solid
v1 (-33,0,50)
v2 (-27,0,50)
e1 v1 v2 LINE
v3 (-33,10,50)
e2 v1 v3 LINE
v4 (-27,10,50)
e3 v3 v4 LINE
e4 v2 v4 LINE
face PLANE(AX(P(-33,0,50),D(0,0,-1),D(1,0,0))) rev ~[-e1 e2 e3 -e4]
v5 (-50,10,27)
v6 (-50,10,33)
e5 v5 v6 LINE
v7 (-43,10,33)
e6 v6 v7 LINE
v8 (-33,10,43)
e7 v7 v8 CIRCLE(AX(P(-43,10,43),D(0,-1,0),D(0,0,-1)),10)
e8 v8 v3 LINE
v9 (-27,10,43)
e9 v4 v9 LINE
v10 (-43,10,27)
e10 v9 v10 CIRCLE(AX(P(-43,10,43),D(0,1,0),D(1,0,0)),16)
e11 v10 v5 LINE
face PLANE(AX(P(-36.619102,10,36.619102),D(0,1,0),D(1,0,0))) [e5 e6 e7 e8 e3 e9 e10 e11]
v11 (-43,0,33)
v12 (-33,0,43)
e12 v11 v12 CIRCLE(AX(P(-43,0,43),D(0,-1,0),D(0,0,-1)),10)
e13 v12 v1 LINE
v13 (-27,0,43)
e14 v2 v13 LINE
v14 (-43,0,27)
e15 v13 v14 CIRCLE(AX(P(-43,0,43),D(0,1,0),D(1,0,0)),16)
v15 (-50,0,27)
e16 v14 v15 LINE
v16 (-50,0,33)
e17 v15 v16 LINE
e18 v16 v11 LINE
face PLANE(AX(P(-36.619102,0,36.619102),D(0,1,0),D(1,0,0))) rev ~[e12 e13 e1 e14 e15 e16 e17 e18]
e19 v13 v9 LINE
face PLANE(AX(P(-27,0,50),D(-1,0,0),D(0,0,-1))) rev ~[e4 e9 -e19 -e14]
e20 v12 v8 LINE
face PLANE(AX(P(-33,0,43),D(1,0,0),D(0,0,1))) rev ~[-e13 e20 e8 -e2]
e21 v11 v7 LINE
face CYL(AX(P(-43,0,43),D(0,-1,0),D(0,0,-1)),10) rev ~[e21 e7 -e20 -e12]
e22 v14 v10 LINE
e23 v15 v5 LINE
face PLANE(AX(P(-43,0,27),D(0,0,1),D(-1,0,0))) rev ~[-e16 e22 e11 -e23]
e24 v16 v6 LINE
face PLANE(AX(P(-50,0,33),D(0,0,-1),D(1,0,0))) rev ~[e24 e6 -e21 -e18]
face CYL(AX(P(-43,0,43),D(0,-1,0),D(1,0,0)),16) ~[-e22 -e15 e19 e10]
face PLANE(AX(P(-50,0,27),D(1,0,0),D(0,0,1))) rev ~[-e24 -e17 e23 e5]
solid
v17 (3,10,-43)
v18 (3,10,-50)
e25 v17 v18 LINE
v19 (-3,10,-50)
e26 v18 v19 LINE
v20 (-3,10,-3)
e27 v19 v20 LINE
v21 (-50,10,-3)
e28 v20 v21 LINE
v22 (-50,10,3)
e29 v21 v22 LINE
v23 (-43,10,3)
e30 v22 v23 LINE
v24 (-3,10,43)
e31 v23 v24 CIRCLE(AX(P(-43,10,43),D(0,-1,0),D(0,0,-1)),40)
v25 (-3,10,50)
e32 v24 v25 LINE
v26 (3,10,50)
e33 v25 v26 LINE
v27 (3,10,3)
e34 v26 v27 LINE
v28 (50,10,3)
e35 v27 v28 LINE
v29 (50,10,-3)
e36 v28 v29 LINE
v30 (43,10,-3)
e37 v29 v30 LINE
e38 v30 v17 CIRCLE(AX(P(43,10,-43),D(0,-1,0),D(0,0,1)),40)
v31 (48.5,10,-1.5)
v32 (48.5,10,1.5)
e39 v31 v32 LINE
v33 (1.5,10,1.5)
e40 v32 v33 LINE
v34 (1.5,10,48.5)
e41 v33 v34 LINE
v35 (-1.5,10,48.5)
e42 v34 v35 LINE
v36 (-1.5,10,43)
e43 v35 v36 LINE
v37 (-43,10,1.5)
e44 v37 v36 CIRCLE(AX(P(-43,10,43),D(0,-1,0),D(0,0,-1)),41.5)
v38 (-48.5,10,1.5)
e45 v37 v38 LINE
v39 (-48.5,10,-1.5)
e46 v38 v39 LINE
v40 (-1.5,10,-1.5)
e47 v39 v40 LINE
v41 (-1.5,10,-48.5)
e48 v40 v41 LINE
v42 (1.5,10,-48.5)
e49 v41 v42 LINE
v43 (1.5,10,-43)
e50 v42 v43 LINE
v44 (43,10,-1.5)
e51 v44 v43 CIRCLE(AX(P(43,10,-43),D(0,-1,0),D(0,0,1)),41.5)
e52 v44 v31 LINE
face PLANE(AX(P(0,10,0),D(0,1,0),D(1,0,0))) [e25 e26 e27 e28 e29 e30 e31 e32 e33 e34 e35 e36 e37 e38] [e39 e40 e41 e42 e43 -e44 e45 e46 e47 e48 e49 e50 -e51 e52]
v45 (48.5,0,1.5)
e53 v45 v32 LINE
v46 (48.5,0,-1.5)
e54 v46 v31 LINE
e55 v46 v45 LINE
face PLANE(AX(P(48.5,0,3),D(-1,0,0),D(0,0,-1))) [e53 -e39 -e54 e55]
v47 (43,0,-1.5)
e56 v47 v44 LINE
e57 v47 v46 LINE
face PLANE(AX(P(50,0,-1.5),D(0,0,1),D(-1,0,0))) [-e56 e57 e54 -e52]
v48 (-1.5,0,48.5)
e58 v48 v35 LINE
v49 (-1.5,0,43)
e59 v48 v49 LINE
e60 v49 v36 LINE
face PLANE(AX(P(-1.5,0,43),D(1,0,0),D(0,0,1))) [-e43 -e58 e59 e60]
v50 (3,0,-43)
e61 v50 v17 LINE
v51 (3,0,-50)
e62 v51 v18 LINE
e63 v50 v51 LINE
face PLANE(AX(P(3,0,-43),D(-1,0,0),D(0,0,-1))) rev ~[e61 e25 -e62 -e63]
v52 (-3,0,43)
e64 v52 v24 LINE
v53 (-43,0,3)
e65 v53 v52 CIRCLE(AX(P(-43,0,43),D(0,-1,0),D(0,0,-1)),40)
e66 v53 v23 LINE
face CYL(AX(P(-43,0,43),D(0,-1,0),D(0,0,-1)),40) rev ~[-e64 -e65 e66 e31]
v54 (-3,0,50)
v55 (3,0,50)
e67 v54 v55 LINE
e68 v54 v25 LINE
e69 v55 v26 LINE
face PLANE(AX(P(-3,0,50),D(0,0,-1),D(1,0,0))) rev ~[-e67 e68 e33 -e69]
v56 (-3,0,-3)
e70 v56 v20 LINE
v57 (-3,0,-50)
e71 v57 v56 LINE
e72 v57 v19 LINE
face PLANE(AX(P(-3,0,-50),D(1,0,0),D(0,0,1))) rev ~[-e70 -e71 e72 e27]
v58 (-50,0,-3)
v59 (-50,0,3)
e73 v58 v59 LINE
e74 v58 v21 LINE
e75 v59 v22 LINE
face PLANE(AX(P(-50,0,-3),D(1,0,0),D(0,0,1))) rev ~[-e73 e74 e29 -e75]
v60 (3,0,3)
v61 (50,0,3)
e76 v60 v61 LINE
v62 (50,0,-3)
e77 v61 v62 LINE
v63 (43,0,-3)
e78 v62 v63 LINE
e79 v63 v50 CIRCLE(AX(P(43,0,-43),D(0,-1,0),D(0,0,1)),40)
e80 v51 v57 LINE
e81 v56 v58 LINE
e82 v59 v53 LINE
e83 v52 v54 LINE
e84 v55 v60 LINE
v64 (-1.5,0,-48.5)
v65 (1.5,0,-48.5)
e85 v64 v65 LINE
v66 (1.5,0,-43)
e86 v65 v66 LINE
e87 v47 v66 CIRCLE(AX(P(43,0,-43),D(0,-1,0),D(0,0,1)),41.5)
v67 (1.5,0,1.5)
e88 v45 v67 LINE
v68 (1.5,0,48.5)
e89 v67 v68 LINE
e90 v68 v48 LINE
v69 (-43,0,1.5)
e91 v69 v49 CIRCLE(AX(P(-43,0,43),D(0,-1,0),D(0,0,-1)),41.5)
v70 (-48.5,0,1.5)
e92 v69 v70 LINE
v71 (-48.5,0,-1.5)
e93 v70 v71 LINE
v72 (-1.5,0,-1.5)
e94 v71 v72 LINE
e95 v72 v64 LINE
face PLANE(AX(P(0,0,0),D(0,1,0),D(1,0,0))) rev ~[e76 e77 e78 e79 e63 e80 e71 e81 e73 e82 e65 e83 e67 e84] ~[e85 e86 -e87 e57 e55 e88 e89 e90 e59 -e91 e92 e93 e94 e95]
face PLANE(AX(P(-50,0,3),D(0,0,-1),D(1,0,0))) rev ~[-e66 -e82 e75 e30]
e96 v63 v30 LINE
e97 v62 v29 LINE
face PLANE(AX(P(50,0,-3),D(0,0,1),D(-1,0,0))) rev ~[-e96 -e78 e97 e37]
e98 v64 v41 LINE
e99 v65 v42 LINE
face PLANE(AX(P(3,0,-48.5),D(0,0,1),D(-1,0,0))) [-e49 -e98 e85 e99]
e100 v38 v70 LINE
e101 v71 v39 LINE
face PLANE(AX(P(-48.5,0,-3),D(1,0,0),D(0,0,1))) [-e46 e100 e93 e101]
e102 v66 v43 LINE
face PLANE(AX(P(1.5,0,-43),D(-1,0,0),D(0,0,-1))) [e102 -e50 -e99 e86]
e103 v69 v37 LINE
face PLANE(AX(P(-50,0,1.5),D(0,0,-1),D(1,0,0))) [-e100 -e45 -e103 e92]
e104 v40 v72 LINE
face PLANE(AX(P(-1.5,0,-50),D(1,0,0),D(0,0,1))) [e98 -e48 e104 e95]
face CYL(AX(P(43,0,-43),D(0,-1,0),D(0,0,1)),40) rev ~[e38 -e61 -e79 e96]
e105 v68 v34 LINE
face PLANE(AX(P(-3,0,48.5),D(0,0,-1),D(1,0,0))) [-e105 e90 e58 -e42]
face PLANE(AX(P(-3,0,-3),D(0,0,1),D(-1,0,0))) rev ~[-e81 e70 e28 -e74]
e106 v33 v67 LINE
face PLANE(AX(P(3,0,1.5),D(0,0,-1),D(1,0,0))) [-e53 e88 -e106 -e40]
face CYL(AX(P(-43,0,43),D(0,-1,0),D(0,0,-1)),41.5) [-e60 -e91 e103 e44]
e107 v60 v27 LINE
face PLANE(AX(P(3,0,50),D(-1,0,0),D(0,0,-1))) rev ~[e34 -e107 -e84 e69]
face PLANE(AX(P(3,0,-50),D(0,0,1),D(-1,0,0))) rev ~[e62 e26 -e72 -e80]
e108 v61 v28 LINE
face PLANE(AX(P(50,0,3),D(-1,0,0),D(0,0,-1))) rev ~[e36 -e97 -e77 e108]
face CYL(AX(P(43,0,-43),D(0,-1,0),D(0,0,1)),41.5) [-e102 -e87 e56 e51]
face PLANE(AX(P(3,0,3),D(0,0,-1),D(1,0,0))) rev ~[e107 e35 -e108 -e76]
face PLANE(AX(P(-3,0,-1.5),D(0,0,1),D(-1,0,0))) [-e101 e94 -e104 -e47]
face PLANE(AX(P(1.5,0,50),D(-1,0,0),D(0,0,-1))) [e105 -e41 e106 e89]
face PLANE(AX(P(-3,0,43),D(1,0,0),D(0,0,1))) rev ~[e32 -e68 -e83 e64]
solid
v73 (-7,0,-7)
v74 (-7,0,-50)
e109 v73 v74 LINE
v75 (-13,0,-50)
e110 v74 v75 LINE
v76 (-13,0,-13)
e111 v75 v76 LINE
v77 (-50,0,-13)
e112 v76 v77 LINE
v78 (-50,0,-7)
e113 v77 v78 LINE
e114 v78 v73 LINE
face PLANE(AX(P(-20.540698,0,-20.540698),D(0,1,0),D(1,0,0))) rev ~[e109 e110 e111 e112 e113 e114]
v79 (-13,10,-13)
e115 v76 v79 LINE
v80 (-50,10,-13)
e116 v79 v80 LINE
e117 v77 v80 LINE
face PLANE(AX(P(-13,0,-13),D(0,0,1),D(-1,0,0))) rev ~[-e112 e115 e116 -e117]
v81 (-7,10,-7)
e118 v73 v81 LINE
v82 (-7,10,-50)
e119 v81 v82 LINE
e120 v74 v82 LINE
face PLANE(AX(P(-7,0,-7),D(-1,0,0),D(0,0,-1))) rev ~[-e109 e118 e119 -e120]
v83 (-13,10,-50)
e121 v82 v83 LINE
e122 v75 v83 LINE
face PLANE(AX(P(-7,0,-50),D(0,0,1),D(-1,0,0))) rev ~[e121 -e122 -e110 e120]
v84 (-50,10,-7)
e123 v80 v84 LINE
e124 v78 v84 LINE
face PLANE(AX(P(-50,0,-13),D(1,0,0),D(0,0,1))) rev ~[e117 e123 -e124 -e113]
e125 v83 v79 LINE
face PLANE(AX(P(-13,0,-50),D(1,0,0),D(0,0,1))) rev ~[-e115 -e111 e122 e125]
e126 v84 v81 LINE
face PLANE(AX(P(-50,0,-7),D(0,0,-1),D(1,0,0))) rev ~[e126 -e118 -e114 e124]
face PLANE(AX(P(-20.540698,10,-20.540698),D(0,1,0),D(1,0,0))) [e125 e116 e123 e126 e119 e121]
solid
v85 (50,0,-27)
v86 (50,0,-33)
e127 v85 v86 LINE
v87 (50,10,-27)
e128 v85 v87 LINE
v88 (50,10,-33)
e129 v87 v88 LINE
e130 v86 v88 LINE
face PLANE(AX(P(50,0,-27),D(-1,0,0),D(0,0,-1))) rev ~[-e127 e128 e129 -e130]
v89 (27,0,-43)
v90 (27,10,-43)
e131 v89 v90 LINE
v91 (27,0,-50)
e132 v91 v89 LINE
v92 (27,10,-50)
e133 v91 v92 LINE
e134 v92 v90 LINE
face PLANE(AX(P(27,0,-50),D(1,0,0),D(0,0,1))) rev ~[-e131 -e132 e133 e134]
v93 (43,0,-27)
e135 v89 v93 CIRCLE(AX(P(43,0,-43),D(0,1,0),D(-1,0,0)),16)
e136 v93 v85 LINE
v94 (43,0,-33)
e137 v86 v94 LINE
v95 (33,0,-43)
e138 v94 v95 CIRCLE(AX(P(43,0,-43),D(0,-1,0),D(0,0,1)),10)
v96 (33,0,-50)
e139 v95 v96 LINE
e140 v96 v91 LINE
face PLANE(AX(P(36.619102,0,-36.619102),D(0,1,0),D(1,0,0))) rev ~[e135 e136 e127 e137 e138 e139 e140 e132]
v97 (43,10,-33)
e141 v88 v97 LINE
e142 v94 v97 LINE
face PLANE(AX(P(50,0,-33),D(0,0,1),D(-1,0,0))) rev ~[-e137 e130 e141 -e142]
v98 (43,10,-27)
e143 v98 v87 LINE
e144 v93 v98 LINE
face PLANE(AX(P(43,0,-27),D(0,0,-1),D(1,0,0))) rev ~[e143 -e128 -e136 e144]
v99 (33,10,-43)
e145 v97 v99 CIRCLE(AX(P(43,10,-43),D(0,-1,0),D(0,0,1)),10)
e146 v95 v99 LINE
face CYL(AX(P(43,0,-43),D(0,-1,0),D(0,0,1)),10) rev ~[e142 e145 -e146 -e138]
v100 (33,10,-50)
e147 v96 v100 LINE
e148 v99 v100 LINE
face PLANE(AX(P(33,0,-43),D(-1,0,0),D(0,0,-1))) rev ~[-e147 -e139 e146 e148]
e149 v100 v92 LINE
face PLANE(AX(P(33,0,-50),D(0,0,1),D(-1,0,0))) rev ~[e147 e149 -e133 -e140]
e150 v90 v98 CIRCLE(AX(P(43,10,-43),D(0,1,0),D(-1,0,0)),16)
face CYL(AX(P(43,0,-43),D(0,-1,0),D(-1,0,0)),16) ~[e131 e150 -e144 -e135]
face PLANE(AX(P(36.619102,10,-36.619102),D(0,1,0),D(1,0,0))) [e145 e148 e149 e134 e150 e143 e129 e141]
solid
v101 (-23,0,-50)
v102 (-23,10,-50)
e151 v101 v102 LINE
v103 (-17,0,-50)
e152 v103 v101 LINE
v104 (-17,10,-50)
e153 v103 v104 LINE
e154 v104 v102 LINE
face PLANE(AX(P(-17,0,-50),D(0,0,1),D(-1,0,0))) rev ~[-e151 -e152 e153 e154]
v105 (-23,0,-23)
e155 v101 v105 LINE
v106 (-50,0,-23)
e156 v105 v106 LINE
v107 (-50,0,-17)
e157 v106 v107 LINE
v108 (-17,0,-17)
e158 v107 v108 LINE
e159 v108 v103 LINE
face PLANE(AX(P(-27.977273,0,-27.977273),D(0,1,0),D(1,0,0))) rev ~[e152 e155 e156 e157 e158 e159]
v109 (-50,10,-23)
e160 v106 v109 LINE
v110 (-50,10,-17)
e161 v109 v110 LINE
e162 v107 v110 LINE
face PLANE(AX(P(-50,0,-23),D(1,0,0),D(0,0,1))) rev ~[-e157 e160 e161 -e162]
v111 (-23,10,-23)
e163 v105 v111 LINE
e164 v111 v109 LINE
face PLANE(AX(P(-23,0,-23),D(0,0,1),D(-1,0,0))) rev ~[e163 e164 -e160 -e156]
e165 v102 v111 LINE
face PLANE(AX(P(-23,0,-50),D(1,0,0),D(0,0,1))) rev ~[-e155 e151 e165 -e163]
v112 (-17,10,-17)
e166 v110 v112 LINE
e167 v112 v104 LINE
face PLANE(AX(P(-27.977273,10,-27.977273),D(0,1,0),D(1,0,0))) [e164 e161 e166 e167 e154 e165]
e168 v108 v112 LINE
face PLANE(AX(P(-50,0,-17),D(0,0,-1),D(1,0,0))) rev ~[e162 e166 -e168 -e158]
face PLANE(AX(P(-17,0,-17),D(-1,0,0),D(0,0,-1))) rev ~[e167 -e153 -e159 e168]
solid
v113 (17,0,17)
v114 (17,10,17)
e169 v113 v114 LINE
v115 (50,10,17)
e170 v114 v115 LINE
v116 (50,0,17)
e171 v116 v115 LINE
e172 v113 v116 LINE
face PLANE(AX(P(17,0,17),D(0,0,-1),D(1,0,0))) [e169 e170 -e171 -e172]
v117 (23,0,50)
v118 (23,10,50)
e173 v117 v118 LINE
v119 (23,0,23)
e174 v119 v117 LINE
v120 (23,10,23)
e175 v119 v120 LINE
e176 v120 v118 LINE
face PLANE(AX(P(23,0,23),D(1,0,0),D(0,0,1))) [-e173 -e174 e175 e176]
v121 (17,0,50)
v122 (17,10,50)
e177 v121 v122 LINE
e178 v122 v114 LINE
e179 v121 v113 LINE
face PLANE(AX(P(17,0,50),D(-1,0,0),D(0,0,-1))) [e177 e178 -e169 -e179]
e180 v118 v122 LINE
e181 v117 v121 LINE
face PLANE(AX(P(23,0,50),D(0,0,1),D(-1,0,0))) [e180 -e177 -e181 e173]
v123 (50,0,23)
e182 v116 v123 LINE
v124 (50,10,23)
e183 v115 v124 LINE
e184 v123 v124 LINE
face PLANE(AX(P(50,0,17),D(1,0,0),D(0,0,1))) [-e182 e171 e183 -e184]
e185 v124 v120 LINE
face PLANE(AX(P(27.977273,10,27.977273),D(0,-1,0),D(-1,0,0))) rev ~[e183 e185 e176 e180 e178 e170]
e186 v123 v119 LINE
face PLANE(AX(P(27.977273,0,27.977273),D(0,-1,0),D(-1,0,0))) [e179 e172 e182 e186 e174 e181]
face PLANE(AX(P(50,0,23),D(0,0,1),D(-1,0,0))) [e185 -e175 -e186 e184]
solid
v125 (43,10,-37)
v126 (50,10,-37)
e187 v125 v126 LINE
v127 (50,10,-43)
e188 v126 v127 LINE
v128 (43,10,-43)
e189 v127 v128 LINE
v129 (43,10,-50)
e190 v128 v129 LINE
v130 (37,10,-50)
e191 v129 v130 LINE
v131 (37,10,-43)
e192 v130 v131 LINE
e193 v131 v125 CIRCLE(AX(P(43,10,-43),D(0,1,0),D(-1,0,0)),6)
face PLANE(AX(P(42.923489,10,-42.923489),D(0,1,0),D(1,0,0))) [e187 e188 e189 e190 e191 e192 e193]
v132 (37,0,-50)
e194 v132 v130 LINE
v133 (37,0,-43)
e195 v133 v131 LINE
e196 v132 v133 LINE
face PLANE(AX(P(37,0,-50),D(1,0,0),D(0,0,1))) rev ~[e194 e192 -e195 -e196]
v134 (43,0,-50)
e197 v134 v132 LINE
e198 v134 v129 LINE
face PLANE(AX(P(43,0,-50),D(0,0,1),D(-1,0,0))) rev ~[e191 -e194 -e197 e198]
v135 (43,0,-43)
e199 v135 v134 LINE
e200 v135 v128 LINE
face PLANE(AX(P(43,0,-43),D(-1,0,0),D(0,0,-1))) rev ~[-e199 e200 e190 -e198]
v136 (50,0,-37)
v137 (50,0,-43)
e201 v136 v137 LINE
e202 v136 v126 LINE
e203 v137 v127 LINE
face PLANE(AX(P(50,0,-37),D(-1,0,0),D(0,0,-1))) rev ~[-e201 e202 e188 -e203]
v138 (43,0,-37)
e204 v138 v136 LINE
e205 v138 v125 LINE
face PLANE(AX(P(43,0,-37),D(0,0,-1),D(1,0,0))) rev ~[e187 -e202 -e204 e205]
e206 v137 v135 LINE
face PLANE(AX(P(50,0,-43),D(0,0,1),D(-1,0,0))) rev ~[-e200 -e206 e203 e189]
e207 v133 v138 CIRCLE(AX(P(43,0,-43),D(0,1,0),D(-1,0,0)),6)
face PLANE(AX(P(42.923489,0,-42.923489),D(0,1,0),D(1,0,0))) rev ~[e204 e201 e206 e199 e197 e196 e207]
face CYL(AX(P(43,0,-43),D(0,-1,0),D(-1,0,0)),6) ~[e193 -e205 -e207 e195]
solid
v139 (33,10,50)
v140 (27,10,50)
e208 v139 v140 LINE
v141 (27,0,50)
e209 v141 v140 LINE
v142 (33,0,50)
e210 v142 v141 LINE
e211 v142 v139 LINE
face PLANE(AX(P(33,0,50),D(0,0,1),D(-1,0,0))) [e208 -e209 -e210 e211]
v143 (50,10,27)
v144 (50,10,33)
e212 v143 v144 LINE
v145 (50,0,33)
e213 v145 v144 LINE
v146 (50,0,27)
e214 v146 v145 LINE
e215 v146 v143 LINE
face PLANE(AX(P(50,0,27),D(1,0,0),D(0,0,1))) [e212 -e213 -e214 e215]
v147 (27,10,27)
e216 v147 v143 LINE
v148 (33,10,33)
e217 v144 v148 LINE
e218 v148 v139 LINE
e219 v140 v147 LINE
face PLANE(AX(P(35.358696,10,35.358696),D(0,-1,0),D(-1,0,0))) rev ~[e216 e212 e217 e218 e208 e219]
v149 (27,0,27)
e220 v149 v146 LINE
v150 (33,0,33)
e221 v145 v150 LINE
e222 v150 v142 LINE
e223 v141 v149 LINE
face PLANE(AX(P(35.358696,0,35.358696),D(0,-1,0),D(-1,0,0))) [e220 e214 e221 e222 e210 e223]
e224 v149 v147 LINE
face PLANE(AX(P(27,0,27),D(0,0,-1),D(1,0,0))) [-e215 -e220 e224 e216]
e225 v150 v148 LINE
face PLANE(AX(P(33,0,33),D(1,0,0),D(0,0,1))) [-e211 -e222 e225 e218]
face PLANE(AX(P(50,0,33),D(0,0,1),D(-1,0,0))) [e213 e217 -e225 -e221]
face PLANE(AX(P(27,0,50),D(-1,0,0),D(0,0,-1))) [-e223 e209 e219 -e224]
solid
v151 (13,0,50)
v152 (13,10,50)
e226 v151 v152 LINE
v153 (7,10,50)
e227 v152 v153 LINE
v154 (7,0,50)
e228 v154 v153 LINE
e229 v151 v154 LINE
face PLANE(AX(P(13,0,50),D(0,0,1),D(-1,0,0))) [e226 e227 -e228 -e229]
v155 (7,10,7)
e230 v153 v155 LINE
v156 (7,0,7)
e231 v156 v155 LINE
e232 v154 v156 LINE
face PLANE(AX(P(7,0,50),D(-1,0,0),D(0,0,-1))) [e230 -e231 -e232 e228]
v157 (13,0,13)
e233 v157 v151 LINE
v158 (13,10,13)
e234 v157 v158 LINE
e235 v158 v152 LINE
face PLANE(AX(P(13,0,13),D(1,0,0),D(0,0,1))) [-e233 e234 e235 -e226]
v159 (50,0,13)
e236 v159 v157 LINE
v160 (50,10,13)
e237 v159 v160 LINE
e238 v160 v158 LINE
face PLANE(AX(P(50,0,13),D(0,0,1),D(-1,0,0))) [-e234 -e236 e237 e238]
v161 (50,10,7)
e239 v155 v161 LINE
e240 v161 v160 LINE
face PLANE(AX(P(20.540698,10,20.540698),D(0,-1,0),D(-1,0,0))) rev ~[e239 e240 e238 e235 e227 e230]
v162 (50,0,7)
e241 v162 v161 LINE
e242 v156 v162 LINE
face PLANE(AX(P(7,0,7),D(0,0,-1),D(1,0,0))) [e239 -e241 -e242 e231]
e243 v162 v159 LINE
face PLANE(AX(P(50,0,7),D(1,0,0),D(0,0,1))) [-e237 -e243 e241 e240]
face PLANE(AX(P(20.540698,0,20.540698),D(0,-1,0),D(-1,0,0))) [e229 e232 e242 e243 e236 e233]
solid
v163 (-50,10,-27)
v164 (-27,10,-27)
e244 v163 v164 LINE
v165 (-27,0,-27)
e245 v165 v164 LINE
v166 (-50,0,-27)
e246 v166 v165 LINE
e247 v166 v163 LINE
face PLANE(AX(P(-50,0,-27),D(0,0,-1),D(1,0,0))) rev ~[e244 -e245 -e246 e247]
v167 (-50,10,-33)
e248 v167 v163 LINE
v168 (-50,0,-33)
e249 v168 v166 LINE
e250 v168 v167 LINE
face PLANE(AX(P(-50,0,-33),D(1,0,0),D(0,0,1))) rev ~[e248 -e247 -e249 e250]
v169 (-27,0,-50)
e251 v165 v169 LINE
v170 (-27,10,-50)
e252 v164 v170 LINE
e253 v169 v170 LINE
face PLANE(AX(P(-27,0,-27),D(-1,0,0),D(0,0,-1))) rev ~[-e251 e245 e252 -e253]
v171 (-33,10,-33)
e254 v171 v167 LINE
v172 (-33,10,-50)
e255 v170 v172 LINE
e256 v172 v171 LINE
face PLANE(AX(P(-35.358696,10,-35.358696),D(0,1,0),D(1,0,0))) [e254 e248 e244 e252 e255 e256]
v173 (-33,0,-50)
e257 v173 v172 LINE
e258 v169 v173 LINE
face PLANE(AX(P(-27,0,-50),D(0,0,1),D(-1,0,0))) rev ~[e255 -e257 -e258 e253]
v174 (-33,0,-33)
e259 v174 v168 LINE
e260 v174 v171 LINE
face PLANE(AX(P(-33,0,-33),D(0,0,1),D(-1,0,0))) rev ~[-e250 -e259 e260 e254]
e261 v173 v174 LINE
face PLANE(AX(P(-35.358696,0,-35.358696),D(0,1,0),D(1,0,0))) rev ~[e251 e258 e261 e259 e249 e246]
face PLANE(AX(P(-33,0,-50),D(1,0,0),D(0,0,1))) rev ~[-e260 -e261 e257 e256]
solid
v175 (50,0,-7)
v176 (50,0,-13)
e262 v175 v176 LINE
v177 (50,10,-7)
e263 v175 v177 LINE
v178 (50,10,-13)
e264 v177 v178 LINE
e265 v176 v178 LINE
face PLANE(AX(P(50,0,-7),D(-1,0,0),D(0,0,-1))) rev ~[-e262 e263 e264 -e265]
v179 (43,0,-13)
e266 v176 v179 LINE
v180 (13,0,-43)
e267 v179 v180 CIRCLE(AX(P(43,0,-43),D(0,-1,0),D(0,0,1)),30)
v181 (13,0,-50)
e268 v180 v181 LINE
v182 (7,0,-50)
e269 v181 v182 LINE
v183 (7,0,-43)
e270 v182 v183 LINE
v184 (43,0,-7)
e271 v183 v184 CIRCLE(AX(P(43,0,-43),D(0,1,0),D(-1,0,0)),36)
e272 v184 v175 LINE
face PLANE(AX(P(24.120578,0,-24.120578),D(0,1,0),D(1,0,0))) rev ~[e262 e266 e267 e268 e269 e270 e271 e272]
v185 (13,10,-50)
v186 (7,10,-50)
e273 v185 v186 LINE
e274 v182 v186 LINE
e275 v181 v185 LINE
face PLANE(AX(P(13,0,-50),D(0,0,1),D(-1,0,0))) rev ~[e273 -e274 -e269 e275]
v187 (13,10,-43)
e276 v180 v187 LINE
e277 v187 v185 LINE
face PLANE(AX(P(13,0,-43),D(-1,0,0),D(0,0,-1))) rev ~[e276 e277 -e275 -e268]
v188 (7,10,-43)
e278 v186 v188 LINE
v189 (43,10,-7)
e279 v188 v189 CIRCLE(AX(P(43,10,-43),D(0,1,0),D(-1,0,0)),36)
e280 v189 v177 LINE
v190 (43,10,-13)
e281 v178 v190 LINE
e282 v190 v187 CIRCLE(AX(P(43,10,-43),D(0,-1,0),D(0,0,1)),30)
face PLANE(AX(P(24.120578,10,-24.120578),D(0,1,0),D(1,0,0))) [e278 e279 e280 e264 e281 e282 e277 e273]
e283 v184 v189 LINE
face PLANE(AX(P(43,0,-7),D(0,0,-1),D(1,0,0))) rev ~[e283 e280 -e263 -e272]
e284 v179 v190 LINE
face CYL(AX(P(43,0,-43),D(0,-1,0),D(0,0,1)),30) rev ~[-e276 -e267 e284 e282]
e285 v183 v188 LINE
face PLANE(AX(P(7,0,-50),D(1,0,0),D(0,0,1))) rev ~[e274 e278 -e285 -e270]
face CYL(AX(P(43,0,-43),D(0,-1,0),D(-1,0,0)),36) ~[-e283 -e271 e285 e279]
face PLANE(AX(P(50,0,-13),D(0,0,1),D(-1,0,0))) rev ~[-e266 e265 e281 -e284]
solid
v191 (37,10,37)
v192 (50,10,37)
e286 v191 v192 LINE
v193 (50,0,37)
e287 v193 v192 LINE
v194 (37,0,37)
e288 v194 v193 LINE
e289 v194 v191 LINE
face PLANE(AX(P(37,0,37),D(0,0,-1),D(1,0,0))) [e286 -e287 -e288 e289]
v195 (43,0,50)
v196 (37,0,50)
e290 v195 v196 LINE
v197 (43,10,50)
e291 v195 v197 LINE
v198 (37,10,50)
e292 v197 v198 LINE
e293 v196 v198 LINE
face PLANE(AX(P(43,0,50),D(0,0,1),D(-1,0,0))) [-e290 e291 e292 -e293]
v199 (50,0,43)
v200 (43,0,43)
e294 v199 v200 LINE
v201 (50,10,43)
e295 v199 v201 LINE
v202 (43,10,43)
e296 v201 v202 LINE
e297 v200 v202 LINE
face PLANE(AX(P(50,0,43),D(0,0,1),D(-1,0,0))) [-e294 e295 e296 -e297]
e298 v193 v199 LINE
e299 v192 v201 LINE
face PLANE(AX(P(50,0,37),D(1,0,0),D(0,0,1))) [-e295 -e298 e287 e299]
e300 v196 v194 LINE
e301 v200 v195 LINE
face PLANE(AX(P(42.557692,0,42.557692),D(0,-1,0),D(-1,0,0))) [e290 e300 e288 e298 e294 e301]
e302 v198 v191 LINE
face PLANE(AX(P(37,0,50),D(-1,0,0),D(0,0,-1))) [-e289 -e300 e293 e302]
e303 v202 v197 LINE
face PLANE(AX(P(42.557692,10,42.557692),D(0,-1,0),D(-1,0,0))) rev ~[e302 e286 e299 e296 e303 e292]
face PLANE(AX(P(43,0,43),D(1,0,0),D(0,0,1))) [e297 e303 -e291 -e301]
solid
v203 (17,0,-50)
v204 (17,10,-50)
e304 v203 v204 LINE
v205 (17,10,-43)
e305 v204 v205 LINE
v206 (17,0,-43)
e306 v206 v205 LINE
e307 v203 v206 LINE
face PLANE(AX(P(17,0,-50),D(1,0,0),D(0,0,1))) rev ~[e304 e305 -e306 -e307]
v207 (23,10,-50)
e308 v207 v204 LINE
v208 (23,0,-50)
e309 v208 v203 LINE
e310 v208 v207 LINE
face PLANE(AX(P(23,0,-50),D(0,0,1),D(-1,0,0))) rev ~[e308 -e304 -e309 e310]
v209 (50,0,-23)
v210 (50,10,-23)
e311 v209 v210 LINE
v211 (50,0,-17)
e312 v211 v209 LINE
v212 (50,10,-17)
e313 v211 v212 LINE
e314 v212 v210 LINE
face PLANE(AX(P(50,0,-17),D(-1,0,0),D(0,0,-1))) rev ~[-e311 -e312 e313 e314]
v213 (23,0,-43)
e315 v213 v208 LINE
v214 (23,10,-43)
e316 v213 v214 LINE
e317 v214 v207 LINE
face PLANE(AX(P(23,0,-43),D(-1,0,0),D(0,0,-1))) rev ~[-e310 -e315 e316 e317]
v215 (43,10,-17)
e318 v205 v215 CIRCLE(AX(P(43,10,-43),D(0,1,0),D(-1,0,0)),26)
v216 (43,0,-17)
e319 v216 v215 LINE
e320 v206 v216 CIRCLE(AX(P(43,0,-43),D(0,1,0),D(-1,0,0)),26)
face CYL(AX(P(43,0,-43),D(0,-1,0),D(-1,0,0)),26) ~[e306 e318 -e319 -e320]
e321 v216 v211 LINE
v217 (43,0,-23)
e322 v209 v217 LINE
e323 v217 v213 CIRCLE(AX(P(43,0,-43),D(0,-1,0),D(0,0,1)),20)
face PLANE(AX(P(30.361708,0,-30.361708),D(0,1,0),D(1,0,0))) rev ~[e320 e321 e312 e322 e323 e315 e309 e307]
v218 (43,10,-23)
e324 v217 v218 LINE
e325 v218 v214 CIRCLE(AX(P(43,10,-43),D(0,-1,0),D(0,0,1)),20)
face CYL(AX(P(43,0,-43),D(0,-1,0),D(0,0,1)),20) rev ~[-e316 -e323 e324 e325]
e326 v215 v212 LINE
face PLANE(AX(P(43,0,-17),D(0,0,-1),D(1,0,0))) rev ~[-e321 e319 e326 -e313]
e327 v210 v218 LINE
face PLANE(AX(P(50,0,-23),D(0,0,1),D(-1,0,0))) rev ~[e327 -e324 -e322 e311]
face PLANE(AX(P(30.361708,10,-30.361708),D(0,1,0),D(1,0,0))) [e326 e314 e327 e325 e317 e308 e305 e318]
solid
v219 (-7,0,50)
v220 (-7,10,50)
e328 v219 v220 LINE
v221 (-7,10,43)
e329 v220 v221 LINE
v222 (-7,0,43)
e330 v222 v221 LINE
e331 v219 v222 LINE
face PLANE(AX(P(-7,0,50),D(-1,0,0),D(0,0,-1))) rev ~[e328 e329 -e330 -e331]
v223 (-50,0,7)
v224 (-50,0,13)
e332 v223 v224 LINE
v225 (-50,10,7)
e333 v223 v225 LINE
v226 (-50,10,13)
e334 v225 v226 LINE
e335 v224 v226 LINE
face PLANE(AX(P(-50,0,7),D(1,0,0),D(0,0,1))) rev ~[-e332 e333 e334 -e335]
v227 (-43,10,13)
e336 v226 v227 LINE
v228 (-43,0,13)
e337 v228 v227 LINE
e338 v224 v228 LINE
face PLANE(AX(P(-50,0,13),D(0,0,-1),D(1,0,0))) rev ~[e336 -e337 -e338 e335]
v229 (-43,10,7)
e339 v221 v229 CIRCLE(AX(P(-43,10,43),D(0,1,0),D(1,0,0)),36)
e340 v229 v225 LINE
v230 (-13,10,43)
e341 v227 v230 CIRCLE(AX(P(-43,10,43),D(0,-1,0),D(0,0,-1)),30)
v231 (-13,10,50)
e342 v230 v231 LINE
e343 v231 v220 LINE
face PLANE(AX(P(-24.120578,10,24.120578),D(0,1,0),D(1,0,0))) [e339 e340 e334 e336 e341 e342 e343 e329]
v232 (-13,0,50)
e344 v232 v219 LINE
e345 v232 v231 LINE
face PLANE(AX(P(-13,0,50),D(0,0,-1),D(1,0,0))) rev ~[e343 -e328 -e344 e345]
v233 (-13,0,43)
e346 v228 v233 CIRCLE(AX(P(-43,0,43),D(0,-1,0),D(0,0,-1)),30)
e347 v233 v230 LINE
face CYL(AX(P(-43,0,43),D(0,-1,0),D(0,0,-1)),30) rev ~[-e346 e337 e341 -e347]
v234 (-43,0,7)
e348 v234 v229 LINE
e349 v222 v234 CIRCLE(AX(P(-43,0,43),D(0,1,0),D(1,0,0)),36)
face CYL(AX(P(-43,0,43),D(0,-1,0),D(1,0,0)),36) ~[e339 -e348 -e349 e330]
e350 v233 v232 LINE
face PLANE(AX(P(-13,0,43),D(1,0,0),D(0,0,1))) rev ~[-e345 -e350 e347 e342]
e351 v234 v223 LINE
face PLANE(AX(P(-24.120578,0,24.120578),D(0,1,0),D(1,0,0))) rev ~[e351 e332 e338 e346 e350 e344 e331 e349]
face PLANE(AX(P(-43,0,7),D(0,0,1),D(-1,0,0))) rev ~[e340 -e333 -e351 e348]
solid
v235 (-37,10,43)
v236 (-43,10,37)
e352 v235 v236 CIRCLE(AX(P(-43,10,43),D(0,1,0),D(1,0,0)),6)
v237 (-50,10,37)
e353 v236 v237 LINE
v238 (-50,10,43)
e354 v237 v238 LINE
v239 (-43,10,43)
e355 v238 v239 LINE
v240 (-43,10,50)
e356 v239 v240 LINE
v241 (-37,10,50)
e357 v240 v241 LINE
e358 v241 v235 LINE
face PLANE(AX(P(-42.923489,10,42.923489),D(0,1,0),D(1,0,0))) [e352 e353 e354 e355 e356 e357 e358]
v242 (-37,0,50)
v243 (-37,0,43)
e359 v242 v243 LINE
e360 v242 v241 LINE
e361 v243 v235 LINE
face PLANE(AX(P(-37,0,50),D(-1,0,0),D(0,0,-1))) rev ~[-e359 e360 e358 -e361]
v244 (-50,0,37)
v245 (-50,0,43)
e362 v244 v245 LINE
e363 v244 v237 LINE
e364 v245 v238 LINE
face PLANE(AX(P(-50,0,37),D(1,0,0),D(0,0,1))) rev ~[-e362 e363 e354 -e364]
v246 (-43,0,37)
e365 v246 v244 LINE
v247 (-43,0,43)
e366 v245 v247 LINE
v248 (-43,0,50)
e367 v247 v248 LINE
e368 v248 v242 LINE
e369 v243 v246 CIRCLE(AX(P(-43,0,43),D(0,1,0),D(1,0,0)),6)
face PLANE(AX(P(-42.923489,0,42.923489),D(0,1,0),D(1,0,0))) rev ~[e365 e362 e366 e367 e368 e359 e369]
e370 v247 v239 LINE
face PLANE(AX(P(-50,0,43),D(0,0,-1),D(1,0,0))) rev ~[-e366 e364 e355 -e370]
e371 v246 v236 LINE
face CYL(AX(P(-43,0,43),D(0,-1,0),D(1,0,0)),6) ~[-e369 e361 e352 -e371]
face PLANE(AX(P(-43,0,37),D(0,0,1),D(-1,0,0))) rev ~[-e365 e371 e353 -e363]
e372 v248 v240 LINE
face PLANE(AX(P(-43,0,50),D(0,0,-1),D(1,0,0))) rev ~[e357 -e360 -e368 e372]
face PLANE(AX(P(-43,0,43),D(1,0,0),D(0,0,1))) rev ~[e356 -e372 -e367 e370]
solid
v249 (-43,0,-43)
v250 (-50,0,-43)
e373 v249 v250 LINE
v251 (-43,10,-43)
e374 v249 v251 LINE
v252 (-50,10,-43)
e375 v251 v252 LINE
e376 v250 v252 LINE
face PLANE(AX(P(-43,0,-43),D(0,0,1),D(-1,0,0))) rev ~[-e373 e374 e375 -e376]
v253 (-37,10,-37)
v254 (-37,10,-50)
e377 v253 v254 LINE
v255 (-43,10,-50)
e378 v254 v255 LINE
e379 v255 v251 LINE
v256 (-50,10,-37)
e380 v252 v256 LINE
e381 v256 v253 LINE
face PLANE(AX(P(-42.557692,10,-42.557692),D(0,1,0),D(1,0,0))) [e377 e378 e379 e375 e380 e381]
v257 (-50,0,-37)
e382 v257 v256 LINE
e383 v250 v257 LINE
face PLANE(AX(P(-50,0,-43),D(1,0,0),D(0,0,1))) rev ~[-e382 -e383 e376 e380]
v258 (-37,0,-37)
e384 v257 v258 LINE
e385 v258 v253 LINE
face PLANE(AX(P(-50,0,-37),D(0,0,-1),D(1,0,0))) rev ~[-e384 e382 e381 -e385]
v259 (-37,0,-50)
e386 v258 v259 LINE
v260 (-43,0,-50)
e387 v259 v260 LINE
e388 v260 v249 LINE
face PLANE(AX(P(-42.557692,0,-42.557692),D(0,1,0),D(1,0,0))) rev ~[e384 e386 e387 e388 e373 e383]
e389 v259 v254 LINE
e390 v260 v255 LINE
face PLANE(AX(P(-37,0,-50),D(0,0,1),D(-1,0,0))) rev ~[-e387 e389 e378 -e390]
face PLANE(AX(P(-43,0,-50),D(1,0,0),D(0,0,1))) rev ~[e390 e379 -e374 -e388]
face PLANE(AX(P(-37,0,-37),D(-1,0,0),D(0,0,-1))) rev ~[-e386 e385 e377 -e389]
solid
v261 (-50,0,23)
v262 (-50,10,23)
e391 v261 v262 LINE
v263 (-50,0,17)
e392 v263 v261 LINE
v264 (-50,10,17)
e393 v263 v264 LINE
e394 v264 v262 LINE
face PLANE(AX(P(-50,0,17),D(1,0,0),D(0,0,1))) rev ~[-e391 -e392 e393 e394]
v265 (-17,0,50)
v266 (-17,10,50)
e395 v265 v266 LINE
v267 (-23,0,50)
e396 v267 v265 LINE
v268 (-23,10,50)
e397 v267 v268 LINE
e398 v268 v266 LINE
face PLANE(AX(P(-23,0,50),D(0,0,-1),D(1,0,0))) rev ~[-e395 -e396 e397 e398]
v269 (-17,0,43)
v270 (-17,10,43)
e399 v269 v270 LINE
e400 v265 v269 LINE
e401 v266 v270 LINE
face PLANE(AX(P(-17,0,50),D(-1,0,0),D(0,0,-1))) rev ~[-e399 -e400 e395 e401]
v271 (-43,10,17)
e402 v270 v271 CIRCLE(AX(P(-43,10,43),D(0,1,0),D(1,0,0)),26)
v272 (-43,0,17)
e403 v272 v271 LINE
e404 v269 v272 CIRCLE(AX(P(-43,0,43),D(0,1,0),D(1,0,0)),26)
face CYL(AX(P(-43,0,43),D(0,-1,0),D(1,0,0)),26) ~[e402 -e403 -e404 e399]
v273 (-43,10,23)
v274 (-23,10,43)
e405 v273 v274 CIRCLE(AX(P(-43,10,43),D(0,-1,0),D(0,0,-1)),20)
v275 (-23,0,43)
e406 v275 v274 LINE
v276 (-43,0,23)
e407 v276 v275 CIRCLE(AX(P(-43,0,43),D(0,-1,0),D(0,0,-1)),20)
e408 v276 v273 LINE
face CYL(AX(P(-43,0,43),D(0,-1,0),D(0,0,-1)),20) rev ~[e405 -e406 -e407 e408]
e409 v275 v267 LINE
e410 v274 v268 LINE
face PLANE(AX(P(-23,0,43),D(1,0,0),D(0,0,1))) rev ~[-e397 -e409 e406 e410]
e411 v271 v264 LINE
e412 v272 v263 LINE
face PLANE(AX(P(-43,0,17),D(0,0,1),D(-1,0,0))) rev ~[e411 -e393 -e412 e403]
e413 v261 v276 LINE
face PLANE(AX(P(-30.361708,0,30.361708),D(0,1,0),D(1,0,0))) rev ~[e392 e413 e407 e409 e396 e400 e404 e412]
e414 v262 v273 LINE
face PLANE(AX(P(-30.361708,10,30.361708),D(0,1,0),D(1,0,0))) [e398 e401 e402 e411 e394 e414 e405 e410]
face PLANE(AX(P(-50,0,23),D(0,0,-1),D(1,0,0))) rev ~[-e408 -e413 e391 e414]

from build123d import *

# Parameters (mm, degrees)
BOSS_EXTRUDE1_DEPTH    = 10
BOSS_EXTRUDE1_2_DEPTH  = 10
BOSS_EXTRUDE1_3_DEPTH  = 10
BOSS_EXTRUDE1_4_DEPTH  = 10
BOSS_EXTRUDE1_5_DEPTH  = 10
BOSS_EXTRUDE1_6_DEPTH  = 10
BOSS_EXTRUDE1_7_DEPTH  = 10
BOSS_EXTRUDE1_8_DEPTH  = 10
BOSS_EXTRUDE1_9_DEPTH  = 10
BOSS_EXTRUDE1_10_DEPTH = 10
BOSS_EXTRUDE1_11_DEPTH = 10
BOSS_EXTRUDE1_12_DEPTH = 10
BOSS_EXTRUDE1_13_DEPTH = 10
BOSS_EXTRUDE1_14_DEPTH = 10
BOSS_EXTRUDE1_15_DEPTH = 10
BOSS_EXTRUDE1_16_DEPTH = 10
BOSS_EXTRUDE1_17_DEPTH = 10
SHELL1_T               = -1.5


with BuildPart() as part:
    # Sketch1 → Boss-Extrude1 (new body)
    with BuildSketch(Plane(origin=(0, 0, 0), x_dir=(1, 0, 0), z_dir=(0, 1, 0))):
        Polygon((-50, 37), (-37, 37), (-37, 50), (-43, 50), (-43, 43), (-50, 43), align=None)
    extrude(amount=BOSS_EXTRUDE1_DEPTH)


with BuildPart() as body_2:
    # Sketch1 → Boss-Extrude1 2 (new body)
    with BuildSketch(Plane(origin=(0, 0, 0), x_dir=(1, 0, 0), z_dir=(0, 1, 0))):
        Polygon((-50, 27), (-27, 27), (-27, 50), (-33, 50), (-33, 33), (-50, 33), align=None)
    extrude(amount=BOSS_EXTRUDE1_2_DEPTH)


with BuildPart() as body_3:
    # Sketch1 → Boss-Extrude1 3 (new body)
    with BuildSketch(Plane(origin=(0, 0, 0), x_dir=(1, 0, 0), z_dir=(0, 1, 0))):
        Polygon((-50, 17), (-17, 17), (-17, 50), (-23, 50), (-23, 23), (-50, 23), align=None)
    extrude(amount=BOSS_EXTRUDE1_3_DEPTH)


with BuildPart() as body_4:
    # Sketch1 → Boss-Extrude1 4 (new body)
    with BuildSketch(Plane(origin=(0, 0, 0), x_dir=(1, 0, 0), z_dir=(0, 1, 0))):
        Polygon((-50, 7), (-7, 7), (-7, 50), (-13, 50), (-13, 13), (-50, 13), align=None)
    extrude(amount=BOSS_EXTRUDE1_4_DEPTH)


with BuildPart() as body_5:
    # Sketch1 → Boss-Extrude1 5 (new body)
    with BuildSketch(Plane(origin=(0, 0, 0), x_dir=(1, 0, 0), z_dir=(0, 1, 0))):
        with BuildLine():
            Line((-50, -3), (-43, -3))
            ThreePointArc((-43, -3), (-14.715728753, -14.715728753), (-3, -43))
            Line((-3, -43), (-3, -50))
            Line((-3, -50), (3, -50))
            Line((3, -50), (3, -3))
            Line((3, -3), (50, -3))
            Line((50, -3), (50, 3))
            Line((50, 3), (43, 3))
            ThreePointArc((43, 3), (14.715728753, 14.715728753), (3, 43))
            Line((3, 43), (3, 50))
            Line((3, 50), (-3, 50))
            Line((-3, 50), (-3, 3))
            Line((-3, 3), (-50, 3))
            Line((-50, 3), (-50, -3))
        make_face()
    extrude(amount=BOSS_EXTRUDE1_5_DEPTH)

    # Shell1
    shell1_openings = [body_5.faces().sort_by_distance(p)[0] for p in [
        (0, 10, 0),
        (0, 0, 0),
    ]]
    offset(amount=SHELL1_T, openings=shell1_openings, kind=Kind.INTERSECTION)


with BuildPart() as body_6:
    # Sketch1 → Boss-Extrude1 6 (new body)
    with BuildSketch(Plane(origin=(0, 0, 0), x_dir=(1, 0, 0), z_dir=(0, 1, 0))):
        with BuildLine():
            Line((-50, -13), (-43, -13))
            ThreePointArc((-43, -13), (-21.786796564, -21.786796564), (-13, -43))
            Line((-13, -43), (-13, -50))
            Line((-13, -50), (-7, -50))
            Line((-7, -50), (-7, -43))
            ThreePointArc((-7, -43), (-17.544155877, -17.544155877), (-43, -7))
            Line((-43, -7), (-50, -7))
            Line((-50, -7), (-50, -13))
        make_face()
    extrude(amount=BOSS_EXTRUDE1_6_DEPTH)


with BuildPart() as body_7:
    # Sketch1 → Boss-Extrude1 7 (new body)
    with BuildSketch(Plane(origin=(0, 0, 0), x_dir=(1, 0, 0), z_dir=(0, 1, 0))):
        with BuildLine():
            Line((-50, -23), (-43, -23))
            ThreePointArc((-43, -23), (-28.857864376, -28.857864376), (-23, -43))
            Line((-23, -43), (-23, -50))
            Line((-23, -50), (-17, -50))
            Line((-17, -50), (-17, -43))
            ThreePointArc((-17, -43), (-24.615223689, -24.615223689), (-43, -17))
            Line((-43, -17), (-50, -17))
            Line((-50, -17), (-50, -23))
        make_face()
    extrude(amount=BOSS_EXTRUDE1_7_DEPTH)


with BuildPart() as body_8:
    # Sketch1 → Boss-Extrude1 8 (new body)
    with BuildSketch(Plane(origin=(0, 0, 0), x_dir=(1, 0, 0), z_dir=(0, 1, 0))):
        with BuildLine():
            Line((-50, -33), (-43, -33))
            ThreePointArc((-43, -33), (-35.928932188, -35.928932188), (-33, -43))
            Line((-33, -43), (-33, -50))
            Line((-33, -50), (-27, -50))
            Line((-27, -50), (-27, -43))
            ThreePointArc((-27, -43), (-31.686291501, -31.686291501), (-43, -27))
            Line((-43, -27), (-50, -27))
            Line((-50, -27), (-50, -33))
        make_face()
    extrude(amount=BOSS_EXTRUDE1_8_DEPTH)


with BuildPart() as body_9:
    # Sketch1 → Boss-Extrude1 9 (new body)
    with BuildSketch(Plane(origin=(0, 0, 0), x_dir=(1, 0, 0), z_dir=(0, 1, 0))):
        with BuildLine():
            Line((-50, -43), (-43, -43))
            Line((-43, -43), (-43, -50))
            Line((-43, -50), (-37, -50))
            Line((-37, -50), (-37, -43))
            ThreePointArc((-37, -43), (-38.757359313, -38.757359313), (-43, -37))
            Line((-43, -37), (-50, -37))
            Line((-50, -37), (-50, -43))
        make_face()
    extrude(amount=BOSS_EXTRUDE1_9_DEPTH)


with BuildPart() as body_10:
    # Sketch1 → Boss-Extrude1 10 (new body)
    with BuildSketch(Plane(origin=(0, 0, 0), x_dir=(1, 0, 0), z_dir=(0, 1, 0))):
        Polygon((7, -7), (50, -7), (50, -13), (13, -13), (13, -50), (7, -50), align=None)
    extrude(amount=BOSS_EXTRUDE1_10_DEPTH)


with BuildPart() as body_11:
    # Sketch1 → Boss-Extrude1 11 (new body)
    with BuildSketch(Plane(origin=(0, 0, 0), x_dir=(1, 0, 0), z_dir=(0, 1, 0))):
        Polygon((17, -17), (50, -17), (50, -23), (23, -23), (23, -50), (17, -50), align=None)
    extrude(amount=BOSS_EXTRUDE1_11_DEPTH)


with BuildPart() as body_12:
    # Sketch1 → Boss-Extrude1 12 (new body)
    with BuildSketch(Plane(origin=(0, 0, 0), x_dir=(1, 0, 0), z_dir=(0, 1, 0))):
        Polygon((27, -27), (50, -27), (50, -33), (33, -33), (33, -50), (27, -50), align=None)
    extrude(amount=BOSS_EXTRUDE1_12_DEPTH)


with BuildPart() as body_13:
    # Sketch1 → Boss-Extrude1 13 (new body)
    with BuildSketch(Plane(origin=(0, 0, 0), x_dir=(1, 0, 0), z_dir=(0, 1, 0))):
        Polygon((37, -37), (50, -37), (50, -43), (43, -43), (43, -50), (37, -50), align=None)
    extrude(amount=BOSS_EXTRUDE1_13_DEPTH)


with BuildPart() as body_14:
    # Sketch1 → Boss-Extrude1 14 (new body)
    with BuildSketch(Plane(origin=(0, 0, 0), x_dir=(1, 0, 0), z_dir=(0, 1, 0))):
        with BuildLine():
            Line((7, 50), (7, 43))
            ThreePointArc((7, 43), (17.544155877, 17.544155877), (43, 7))
            Line((43, 7), (50, 7))
            Line((50, 7), (50, 13))
            Line((50, 13), (43, 13))
            ThreePointArc((43, 13), (21.786796564, 21.786796564), (13, 43))
            Line((13, 43), (13, 50))
            Line((13, 50), (7, 50))
        make_face()
    extrude(amount=BOSS_EXTRUDE1_14_DEPTH)


with BuildPart() as body_15:
    # Sketch1 → Boss-Extrude1 15 (new body)
    with BuildSketch(Plane(origin=(0, 0, 0), x_dir=(1, 0, 0), z_dir=(0, 1, 0))):
        with BuildLine():
            Line((17, 50), (17, 43))
            ThreePointArc((17, 43), (24.615223689, 24.615223689), (43, 17))
            Line((43, 17), (50, 17))
            Line((50, 17), (50, 23))
            Line((50, 23), (43, 23))
            ThreePointArc((43, 23), (28.857864376, 28.857864376), (23, 43))
            Line((23, 43), (23, 50))
            Line((23, 50), (17, 50))
        make_face()
    extrude(amount=BOSS_EXTRUDE1_15_DEPTH)


with BuildPart() as body_16:
    # Sketch1 → Boss-Extrude1 16 (new body)
    with BuildSketch(Plane(origin=(0, 0, 0), x_dir=(1, 0, 0), z_dir=(0, 1, 0))):
        with BuildLine():
            Line((27, 50), (27, 43))
            ThreePointArc((27, 43), (31.686291501, 31.686291501), (43, 27))
            Line((43, 27), (50, 27))
            Line((50, 27), (50, 33))
            Line((50, 33), (43, 33))
            ThreePointArc((43, 33), (35.928932188, 35.928932188), (33, 43))
            Line((33, 43), (33, 50))
            Line((33, 50), (27, 50))
        make_face()
    extrude(amount=BOSS_EXTRUDE1_16_DEPTH)


with BuildPart() as body_17:
    # Sketch1 → Boss-Extrude1 17 (new body)
    with BuildSketch(Plane(origin=(0, 0, 0), x_dir=(1, 0, 0), z_dir=(0, 1, 0))):
        with BuildLine():
            Line((37, 50), (37, 43))
            ThreePointArc((37, 43), (38.757359313, 38.757359313), (43, 37))
            Line((43, 37), (50, 37))
            Line((50, 37), (50, 43))
            Line((50, 43), (43, 43))
            Line((43, 43), (43, 50))
            Line((43, 50), (37, 50))
        make_face()
    extrude(amount=BOSS_EXTRUDE1_17_DEPTH)


solid = Compound([part.part, body_2.part, body_3.part, body_4.part, body_5.part, body_6.part, body_7.part, body_8.part, body_9.part, body_10.part, body_11.part, body_12.part, body_13.part, body_14.part, body_15.part, body_16.part, body_17.part])
